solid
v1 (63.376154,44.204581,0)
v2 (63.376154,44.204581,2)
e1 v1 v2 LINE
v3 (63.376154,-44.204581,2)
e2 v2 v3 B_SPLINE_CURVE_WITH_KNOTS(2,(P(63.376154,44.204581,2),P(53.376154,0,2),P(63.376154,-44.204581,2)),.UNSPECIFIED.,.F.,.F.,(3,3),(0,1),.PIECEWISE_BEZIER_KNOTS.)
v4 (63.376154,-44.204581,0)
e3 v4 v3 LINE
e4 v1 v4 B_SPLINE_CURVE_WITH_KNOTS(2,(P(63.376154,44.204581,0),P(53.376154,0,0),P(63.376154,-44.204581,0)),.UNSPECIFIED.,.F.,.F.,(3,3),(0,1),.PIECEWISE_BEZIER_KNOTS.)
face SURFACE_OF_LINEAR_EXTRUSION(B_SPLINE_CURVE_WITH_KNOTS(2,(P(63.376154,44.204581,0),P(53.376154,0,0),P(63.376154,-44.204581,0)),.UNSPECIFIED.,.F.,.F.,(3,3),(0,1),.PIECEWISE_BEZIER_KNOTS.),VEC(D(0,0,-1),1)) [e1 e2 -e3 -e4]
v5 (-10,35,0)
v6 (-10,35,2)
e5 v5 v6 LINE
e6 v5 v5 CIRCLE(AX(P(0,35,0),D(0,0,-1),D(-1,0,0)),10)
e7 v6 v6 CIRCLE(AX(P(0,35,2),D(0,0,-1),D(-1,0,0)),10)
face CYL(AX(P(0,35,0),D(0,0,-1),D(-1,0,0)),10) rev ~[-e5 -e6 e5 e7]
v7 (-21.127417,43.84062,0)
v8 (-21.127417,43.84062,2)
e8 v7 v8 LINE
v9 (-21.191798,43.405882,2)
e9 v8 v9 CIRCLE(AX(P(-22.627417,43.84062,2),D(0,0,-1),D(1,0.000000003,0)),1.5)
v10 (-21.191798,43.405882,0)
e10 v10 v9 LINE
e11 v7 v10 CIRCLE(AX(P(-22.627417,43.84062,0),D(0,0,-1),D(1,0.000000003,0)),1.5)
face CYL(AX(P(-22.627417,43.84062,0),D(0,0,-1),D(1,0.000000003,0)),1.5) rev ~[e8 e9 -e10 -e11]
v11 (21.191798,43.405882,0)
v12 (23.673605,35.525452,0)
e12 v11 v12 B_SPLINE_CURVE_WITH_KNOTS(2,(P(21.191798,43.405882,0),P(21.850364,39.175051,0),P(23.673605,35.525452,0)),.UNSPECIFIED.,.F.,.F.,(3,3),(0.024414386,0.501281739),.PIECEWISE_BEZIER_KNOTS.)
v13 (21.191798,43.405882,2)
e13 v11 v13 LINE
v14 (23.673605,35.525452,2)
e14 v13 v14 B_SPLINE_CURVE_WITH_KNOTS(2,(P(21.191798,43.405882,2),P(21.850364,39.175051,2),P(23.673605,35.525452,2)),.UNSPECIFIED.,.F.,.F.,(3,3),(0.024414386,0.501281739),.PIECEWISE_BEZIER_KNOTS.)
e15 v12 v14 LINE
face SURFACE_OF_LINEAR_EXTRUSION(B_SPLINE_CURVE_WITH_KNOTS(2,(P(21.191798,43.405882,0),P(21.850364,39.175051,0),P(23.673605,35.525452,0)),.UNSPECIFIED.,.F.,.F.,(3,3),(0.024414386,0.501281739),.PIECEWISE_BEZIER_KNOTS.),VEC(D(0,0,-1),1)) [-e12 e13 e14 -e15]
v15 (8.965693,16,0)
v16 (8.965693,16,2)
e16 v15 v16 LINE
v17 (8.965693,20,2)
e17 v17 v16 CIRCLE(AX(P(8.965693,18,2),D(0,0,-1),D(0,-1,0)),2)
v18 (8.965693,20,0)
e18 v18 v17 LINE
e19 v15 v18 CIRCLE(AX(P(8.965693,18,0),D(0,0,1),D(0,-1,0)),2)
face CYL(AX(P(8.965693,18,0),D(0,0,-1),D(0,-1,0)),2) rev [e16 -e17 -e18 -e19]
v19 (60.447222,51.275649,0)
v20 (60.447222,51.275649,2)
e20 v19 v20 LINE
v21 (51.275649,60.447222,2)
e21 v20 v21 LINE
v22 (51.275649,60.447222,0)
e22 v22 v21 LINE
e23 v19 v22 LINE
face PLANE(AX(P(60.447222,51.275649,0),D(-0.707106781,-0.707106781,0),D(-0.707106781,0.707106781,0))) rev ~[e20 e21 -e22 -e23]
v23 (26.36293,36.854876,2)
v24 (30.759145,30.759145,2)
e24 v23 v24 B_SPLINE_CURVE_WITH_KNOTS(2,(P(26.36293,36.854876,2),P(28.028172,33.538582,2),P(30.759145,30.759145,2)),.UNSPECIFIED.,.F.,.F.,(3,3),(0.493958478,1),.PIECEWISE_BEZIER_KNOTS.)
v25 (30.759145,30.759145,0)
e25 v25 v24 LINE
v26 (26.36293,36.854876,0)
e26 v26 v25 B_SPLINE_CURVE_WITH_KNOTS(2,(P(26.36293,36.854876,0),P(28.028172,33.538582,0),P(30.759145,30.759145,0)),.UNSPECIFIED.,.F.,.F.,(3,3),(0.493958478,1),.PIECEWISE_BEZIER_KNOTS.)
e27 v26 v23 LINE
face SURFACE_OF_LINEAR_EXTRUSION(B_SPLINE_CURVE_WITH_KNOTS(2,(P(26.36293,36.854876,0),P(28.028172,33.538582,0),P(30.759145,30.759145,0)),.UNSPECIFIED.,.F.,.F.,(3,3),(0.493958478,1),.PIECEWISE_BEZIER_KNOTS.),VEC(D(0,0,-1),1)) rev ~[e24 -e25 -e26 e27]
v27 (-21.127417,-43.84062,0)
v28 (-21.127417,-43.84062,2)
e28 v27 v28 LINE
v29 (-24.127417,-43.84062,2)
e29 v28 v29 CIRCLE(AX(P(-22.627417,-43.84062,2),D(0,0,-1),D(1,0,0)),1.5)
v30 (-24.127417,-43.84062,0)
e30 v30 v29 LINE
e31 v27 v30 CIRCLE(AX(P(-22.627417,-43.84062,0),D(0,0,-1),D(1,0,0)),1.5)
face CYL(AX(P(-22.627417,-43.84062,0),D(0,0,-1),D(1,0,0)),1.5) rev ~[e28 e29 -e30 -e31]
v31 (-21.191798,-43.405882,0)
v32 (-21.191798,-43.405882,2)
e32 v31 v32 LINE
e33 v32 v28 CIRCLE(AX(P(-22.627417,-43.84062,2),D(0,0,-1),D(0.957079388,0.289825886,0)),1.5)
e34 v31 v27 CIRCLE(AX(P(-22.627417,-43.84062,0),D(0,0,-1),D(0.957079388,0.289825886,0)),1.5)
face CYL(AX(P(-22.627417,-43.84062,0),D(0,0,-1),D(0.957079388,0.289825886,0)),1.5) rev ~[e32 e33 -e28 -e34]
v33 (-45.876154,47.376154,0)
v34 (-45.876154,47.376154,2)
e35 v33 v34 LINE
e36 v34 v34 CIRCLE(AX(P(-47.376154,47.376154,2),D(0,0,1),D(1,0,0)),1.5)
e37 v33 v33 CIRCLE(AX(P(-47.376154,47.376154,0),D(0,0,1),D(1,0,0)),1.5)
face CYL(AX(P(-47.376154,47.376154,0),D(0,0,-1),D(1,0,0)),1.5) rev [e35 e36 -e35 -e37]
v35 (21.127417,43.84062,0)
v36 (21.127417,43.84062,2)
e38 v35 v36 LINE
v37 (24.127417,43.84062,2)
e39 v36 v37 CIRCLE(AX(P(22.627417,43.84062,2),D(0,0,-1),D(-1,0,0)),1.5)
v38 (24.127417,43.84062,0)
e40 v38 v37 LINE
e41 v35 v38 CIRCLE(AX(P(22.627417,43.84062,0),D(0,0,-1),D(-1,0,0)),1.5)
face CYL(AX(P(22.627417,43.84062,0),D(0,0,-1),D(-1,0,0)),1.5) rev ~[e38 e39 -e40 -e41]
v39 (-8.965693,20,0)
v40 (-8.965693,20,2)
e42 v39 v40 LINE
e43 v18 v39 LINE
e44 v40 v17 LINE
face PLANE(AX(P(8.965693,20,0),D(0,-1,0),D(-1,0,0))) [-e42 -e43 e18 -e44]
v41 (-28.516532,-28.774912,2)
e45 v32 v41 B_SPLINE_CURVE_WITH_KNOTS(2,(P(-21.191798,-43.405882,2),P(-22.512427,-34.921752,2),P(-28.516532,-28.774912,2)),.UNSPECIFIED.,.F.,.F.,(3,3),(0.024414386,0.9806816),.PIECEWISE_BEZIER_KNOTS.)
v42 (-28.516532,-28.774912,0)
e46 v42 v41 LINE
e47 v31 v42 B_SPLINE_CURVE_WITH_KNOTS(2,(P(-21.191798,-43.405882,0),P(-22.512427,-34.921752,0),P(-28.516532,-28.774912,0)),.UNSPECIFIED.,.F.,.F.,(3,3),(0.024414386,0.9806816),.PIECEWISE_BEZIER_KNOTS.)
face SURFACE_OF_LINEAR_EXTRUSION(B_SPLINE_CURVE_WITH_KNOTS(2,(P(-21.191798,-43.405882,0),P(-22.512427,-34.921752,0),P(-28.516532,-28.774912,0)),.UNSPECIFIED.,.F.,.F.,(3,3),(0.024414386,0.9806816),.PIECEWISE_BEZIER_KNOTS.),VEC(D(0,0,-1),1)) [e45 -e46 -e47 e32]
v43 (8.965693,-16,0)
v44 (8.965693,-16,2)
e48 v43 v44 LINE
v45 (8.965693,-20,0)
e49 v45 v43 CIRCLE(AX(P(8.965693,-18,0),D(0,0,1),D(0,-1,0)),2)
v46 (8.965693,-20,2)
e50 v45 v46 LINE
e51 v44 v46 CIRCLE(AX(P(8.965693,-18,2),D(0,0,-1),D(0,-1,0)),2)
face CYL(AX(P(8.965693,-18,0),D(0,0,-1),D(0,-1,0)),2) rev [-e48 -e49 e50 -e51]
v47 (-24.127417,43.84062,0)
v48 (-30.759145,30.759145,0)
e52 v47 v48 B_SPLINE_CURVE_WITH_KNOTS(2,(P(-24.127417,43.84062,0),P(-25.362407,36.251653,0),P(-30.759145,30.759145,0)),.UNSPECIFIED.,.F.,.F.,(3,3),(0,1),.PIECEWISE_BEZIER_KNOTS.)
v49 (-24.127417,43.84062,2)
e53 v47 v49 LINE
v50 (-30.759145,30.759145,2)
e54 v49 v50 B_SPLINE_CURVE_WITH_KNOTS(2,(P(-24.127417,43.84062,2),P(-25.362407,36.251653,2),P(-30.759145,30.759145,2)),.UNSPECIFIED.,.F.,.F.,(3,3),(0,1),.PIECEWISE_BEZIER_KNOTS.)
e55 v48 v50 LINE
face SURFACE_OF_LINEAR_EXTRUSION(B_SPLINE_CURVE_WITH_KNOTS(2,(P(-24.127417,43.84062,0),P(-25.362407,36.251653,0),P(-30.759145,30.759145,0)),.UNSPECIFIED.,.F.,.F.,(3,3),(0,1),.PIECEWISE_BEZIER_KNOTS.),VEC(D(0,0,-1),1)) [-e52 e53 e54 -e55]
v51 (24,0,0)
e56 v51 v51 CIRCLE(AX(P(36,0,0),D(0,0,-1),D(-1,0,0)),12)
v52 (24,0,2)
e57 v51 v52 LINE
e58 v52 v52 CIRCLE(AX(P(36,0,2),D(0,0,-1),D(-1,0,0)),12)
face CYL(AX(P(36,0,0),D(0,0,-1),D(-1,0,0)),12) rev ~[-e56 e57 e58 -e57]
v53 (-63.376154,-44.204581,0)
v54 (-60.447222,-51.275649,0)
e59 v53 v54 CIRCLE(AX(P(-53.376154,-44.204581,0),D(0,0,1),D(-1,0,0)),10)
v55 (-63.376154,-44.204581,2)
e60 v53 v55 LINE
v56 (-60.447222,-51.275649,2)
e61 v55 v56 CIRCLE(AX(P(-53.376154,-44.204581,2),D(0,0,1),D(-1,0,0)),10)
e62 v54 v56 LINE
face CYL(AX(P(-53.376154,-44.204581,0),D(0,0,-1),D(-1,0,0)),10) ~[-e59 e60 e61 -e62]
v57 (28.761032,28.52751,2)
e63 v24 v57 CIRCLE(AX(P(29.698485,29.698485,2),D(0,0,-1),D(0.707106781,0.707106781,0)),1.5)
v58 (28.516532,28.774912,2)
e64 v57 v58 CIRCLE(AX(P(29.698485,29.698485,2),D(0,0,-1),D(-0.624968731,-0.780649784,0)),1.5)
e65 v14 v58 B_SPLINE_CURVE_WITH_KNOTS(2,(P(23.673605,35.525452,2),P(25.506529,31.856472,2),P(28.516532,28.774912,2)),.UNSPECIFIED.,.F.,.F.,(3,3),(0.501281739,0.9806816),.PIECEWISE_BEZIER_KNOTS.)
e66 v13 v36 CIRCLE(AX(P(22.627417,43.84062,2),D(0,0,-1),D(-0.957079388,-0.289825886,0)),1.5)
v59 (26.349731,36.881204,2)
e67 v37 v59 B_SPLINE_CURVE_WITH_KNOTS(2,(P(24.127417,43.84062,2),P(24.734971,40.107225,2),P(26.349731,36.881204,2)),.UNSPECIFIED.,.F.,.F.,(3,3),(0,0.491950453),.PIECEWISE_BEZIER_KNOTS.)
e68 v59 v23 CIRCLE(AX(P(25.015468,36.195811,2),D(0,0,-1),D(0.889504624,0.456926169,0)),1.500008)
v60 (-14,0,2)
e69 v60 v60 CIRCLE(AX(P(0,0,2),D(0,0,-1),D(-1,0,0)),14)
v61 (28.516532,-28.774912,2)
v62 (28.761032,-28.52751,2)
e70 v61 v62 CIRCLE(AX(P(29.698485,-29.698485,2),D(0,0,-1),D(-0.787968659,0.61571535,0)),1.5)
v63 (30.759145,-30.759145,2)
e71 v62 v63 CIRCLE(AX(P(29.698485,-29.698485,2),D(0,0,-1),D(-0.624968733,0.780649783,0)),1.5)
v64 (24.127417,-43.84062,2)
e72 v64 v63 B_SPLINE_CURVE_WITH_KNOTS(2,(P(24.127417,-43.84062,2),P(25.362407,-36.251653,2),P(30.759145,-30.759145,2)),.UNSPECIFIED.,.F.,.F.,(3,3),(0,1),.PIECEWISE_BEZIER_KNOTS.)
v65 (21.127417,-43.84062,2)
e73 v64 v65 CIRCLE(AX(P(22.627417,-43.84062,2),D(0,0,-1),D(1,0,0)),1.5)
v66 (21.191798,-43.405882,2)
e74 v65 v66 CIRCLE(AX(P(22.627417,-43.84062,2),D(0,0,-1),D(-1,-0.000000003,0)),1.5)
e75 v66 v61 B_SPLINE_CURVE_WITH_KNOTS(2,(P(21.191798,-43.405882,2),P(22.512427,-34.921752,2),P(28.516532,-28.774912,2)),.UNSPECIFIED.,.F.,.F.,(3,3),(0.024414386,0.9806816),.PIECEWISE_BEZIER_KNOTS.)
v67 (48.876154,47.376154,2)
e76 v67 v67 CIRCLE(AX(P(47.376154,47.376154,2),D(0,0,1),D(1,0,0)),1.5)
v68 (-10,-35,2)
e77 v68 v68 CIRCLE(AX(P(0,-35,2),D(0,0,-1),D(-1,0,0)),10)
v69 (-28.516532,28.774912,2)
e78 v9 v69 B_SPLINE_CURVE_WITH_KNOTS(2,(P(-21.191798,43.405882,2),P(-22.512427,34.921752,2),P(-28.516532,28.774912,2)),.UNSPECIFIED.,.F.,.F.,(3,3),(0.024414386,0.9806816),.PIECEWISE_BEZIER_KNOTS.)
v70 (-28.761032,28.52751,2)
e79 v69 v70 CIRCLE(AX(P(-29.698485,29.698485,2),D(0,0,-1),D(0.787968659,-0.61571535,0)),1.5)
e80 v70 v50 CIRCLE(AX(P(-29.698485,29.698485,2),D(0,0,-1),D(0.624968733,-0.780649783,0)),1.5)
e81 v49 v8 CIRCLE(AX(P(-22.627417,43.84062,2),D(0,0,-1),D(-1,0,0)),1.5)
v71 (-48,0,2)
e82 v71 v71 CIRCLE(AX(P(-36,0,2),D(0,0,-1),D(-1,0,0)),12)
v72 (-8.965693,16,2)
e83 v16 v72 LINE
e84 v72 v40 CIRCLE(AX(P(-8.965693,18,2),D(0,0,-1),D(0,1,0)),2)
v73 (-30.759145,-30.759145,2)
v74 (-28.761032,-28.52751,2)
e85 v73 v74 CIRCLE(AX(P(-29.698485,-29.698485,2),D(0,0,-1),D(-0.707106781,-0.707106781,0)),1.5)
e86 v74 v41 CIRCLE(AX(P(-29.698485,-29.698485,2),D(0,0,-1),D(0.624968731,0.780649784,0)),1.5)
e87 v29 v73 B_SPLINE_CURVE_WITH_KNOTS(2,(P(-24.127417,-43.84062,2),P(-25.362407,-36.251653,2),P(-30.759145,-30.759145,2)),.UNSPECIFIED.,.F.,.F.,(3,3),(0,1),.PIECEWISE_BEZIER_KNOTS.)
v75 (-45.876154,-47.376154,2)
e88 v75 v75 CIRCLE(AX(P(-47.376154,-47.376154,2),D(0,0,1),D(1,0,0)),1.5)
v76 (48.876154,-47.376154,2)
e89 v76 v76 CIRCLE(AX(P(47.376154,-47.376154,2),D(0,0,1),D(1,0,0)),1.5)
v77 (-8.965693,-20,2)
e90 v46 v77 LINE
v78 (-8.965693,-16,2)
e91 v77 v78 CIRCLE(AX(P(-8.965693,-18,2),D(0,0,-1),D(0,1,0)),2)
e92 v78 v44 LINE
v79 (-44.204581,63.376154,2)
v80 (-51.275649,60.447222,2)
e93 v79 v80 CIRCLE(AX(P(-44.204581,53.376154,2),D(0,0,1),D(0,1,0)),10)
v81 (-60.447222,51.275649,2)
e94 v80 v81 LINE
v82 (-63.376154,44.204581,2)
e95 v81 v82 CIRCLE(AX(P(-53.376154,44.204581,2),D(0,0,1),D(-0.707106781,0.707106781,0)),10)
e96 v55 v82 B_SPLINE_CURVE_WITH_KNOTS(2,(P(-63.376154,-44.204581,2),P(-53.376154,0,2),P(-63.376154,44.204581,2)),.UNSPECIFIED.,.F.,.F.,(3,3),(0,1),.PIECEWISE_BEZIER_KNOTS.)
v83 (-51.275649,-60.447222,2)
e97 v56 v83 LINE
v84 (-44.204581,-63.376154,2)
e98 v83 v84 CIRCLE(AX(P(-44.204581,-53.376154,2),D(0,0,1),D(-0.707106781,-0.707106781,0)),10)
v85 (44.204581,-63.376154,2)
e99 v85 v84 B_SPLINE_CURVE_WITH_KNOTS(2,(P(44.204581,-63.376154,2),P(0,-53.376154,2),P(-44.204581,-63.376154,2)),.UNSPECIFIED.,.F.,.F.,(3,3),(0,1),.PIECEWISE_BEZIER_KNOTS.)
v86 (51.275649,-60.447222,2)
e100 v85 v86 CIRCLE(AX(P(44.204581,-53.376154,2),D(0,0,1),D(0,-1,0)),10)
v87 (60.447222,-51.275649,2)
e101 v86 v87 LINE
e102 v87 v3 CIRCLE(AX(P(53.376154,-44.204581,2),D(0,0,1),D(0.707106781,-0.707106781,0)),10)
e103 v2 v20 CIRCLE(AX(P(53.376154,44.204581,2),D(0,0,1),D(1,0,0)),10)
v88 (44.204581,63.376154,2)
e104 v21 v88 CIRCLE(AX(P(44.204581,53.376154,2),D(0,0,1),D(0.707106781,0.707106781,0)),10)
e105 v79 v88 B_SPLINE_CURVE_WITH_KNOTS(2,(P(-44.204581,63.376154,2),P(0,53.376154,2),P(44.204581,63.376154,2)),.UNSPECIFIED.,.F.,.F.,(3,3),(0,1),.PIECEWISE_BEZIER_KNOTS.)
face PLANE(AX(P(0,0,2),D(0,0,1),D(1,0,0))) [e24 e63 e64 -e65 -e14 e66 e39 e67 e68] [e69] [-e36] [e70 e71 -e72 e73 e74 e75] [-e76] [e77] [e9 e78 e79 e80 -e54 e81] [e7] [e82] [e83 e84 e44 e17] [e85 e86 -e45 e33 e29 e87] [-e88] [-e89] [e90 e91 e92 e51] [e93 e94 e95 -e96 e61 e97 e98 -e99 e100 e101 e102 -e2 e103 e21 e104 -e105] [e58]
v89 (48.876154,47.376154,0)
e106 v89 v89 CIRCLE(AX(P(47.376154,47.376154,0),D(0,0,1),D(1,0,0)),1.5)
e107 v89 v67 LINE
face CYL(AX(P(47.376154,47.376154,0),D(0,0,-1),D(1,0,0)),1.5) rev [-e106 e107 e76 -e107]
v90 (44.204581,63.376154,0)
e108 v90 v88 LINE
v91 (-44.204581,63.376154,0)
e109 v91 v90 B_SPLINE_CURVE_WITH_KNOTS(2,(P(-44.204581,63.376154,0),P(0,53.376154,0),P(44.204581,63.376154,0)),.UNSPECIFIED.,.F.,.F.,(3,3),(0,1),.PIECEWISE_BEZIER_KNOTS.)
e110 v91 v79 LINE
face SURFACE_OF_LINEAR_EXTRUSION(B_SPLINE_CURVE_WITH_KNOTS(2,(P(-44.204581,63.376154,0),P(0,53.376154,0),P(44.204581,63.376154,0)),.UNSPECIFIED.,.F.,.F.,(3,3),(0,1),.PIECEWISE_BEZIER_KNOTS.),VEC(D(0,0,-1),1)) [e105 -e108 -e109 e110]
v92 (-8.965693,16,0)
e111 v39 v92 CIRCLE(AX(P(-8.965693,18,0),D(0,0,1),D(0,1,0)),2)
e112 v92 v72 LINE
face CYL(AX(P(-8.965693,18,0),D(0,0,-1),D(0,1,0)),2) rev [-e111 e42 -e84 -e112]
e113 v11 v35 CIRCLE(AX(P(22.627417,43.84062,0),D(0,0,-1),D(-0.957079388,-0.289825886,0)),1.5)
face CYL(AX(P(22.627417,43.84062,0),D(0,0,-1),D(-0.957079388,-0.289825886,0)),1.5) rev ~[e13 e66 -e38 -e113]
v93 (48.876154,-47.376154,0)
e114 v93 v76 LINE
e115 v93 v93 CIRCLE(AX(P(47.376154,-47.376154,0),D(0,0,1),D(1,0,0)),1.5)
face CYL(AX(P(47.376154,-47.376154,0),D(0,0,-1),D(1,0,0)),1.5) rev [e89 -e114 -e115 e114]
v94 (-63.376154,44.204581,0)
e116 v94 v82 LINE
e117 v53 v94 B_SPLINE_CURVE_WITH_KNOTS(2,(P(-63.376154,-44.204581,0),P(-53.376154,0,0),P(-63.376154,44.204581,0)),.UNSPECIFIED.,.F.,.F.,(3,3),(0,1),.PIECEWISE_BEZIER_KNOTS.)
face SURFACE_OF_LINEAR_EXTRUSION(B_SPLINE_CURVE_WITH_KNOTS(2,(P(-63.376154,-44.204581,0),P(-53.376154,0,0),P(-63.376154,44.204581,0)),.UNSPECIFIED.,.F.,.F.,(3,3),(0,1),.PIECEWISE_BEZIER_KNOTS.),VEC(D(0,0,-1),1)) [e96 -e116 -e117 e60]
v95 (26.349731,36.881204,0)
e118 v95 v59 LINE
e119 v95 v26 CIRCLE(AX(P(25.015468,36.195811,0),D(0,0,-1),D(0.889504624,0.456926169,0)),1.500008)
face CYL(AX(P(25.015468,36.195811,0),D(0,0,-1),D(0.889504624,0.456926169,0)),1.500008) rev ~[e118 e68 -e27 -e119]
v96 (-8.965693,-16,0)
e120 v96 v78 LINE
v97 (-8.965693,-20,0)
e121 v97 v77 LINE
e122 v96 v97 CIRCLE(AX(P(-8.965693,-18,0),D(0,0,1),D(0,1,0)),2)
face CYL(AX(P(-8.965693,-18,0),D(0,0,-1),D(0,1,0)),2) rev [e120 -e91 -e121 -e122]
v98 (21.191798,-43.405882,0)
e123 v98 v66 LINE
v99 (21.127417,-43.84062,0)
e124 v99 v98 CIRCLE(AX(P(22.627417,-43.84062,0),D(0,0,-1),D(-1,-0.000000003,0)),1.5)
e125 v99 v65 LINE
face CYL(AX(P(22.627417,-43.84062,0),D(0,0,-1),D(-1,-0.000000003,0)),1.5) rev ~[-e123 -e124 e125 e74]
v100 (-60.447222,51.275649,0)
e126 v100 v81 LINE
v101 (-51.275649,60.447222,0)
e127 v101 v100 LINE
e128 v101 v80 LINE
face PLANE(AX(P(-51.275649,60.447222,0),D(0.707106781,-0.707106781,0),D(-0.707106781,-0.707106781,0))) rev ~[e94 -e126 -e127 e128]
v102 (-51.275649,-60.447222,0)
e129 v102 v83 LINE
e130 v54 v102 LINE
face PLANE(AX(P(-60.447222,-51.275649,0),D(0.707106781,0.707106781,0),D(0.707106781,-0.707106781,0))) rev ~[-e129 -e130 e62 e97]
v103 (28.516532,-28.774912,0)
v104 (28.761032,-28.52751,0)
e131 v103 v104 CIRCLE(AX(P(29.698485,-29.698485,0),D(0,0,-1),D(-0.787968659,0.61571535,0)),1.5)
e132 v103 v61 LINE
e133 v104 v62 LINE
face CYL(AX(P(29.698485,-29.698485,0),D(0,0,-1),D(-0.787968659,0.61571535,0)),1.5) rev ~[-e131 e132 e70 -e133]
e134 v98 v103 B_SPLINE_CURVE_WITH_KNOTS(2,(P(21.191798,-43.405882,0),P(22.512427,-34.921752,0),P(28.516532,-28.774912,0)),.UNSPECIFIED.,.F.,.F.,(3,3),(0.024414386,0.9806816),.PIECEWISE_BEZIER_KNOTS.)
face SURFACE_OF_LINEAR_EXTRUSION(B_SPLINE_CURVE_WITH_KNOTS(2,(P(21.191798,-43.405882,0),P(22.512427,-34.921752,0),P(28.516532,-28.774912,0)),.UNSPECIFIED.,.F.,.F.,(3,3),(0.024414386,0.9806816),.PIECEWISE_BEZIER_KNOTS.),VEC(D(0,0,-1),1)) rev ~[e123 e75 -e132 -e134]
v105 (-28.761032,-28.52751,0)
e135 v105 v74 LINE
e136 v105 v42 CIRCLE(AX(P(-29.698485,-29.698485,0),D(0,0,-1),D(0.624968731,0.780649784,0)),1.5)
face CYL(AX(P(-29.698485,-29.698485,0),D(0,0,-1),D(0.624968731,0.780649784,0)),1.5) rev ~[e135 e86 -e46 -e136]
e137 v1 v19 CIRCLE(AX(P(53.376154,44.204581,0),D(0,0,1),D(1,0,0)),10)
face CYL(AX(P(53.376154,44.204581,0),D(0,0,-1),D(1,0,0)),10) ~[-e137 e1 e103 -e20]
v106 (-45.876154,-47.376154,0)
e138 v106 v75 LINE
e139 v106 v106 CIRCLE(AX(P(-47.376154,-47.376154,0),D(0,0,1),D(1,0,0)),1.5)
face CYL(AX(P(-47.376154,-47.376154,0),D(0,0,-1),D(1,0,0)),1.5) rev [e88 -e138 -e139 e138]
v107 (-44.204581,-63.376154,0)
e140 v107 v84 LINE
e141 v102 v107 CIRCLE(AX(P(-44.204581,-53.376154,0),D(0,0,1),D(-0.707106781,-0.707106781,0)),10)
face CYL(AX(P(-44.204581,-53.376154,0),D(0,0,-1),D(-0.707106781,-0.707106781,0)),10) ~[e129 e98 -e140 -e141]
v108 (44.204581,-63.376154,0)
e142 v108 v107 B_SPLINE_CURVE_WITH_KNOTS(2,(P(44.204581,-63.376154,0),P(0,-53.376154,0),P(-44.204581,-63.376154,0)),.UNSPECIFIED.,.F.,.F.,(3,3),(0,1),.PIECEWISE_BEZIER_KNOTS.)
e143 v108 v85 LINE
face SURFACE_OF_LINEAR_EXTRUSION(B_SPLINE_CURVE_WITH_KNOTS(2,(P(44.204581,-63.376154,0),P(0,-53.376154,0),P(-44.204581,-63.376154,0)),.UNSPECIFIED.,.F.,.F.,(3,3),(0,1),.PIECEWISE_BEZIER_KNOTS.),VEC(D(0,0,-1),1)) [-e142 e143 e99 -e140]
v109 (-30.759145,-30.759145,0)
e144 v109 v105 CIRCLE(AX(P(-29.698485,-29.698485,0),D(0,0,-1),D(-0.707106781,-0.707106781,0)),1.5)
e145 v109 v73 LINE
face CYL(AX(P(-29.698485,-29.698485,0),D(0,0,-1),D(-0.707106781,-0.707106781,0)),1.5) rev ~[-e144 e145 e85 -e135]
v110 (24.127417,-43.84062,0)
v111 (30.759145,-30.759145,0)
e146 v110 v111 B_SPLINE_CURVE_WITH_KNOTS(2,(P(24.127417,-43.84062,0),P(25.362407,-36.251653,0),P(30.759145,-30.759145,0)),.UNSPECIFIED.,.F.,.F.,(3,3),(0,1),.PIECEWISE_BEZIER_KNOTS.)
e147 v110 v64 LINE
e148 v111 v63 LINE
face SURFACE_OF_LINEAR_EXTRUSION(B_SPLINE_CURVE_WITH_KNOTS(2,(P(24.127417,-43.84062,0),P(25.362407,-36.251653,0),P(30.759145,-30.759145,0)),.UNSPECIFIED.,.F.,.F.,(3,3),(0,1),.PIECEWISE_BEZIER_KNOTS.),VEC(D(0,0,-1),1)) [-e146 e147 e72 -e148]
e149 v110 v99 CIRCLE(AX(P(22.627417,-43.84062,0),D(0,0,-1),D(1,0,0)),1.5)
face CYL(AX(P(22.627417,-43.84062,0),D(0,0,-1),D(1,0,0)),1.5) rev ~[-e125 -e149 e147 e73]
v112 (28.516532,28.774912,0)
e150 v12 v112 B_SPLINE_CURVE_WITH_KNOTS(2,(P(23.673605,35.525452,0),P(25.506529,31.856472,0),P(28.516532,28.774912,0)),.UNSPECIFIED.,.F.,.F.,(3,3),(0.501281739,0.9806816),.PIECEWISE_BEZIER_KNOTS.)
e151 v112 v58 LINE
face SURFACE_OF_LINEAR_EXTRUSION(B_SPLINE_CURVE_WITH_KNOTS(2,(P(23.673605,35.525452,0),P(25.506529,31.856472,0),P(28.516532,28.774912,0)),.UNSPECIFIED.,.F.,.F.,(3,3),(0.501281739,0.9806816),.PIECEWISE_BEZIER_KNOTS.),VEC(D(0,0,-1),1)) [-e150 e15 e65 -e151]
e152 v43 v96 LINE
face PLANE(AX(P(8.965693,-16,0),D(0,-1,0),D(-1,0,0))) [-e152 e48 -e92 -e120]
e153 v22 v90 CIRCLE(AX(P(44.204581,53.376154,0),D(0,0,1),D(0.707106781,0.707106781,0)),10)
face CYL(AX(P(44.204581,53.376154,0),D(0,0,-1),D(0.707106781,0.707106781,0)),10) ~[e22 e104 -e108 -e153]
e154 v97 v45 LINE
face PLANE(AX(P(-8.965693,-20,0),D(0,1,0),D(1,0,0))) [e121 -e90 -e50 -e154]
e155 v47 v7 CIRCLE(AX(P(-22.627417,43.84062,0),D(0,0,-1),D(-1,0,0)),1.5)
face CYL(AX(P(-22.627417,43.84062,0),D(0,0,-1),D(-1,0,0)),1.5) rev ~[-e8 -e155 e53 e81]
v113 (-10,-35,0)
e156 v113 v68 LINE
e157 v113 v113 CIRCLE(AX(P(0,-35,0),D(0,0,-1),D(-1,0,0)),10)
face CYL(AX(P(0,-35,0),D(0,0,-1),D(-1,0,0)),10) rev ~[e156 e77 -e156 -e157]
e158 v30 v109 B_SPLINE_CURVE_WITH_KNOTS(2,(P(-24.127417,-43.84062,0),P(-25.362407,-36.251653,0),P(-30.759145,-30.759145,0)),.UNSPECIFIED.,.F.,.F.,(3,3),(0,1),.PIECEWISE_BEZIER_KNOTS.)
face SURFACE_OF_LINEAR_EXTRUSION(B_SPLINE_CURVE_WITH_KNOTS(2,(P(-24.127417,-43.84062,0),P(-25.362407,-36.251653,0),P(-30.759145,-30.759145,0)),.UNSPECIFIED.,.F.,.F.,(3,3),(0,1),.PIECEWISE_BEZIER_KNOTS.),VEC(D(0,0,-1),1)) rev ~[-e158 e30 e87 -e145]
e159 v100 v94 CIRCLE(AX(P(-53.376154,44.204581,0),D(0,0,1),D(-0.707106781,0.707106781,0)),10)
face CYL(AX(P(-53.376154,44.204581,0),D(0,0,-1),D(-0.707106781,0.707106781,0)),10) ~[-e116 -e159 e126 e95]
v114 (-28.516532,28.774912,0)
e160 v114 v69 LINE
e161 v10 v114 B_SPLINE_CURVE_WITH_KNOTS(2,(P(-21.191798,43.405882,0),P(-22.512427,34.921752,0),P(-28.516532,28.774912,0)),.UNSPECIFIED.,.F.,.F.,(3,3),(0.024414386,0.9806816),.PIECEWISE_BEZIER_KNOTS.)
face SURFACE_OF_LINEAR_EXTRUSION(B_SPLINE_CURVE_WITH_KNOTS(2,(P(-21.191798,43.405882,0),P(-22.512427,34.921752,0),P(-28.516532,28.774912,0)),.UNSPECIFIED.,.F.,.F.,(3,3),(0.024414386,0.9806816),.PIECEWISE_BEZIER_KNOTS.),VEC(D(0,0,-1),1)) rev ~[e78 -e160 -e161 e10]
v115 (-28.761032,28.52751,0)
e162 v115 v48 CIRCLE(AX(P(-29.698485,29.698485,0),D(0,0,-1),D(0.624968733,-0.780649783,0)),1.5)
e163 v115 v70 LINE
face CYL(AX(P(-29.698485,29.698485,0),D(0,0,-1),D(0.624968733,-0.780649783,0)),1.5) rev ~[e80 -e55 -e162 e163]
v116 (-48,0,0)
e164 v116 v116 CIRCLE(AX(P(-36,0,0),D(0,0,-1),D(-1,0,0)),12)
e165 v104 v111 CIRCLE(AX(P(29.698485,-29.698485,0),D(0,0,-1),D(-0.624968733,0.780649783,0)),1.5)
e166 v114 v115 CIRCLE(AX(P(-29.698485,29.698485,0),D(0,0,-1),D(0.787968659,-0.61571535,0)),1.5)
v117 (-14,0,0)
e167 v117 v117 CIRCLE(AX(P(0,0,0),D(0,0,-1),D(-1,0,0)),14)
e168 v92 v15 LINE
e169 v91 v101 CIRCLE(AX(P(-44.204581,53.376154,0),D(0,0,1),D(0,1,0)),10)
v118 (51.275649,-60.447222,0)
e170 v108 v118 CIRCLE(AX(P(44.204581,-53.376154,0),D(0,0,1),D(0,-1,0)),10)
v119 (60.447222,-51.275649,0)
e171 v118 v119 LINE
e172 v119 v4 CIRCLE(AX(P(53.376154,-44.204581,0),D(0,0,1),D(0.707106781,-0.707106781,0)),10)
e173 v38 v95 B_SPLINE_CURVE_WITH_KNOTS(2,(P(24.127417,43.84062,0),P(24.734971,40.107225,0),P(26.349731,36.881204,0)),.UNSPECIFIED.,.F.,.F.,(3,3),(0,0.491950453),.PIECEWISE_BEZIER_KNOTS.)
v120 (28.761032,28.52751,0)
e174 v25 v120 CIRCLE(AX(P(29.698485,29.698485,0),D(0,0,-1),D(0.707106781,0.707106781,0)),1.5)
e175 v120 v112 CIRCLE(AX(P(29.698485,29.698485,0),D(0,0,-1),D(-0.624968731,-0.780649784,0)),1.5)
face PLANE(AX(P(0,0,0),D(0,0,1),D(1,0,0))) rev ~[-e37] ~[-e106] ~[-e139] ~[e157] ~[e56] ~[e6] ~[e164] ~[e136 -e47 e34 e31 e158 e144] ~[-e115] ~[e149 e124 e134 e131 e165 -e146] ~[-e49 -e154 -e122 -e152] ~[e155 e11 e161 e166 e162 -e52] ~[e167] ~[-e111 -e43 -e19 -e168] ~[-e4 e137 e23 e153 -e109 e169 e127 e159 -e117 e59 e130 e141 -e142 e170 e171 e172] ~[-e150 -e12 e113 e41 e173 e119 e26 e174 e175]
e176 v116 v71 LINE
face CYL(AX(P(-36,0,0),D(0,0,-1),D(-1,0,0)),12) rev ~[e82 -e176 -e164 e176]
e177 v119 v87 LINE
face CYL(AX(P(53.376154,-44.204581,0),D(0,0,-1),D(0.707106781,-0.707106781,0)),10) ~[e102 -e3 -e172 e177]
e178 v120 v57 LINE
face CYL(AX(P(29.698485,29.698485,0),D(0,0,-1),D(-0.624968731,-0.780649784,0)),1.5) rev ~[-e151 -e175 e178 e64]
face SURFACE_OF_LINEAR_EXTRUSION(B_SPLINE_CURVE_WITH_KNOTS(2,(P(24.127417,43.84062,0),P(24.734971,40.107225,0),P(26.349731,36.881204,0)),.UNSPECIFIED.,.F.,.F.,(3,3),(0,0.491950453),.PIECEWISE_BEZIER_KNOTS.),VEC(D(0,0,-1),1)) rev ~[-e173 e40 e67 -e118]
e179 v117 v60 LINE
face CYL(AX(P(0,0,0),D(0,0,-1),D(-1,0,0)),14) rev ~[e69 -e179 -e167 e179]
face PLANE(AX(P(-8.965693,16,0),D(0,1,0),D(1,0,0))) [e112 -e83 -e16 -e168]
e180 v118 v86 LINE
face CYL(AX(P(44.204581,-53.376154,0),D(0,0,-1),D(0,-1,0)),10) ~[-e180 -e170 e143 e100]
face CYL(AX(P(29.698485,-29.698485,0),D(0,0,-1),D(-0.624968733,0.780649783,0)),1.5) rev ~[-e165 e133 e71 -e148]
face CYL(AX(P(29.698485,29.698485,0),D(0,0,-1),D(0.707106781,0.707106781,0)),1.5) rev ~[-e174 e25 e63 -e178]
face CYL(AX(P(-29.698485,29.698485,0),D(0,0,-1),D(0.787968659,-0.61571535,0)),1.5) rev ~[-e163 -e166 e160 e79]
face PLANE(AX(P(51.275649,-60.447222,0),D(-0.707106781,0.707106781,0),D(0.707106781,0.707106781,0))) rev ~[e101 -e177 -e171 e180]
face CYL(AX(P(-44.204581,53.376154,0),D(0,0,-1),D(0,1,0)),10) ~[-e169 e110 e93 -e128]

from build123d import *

# Parameters (mm, degrees)
SKETCH1_R           = 1.5
BOSS_EXTRUDE1_DEPTH = 2
SKETCH4_R           = 14
SKETCH4_R_2         = 12
SKETCH4_R_3         = 10
CUT_EXTRUDE1_DEPTH  = 10


with BuildPart() as part:
    # Sketch1 → Boss-Extrude1 (new body)
    with BuildSketch(Plane.XY):
        with BuildLine():
            Line((60.447222151, 51.275649276), (51.275649276, 60.447222151))
            ThreePointArc((51.275649276, 60.447222151), (48.031415788, 62.614949665), (44.204581464, 63.376154339))
            add(Edge.make_bspline(
                [(-44.204581464, 63.376154339), (0, 53.376154339), (44.204581464, 63.376154339)],
                knots=[0, 0, 0, 1, 1, 1], degree=2))
            ThreePointArc((-44.204581464, 63.376154339), (-48.031415788, 62.614949665), (-51.275649276, 60.447222151))
            Line((-51.275649276, 60.447222151), (-60.447222151, 51.275649276))
            ThreePointArc((-60.447222151, 51.275649276), (-62.614949665, 48.031415788), (-63.376154339, 44.204581464))
            add(Edge.make_bspline(
                [(-63.376154339, -44.204581464), (-53.376154339, 0), (-63.376154339, 44.204581464)],
                knots=[0, 0, 0, 1, 1, 1], degree=2))
            ThreePointArc((-63.376154339, -44.204581464), (-62.614949665, -48.031415788), (-60.447222151, -51.275649276))
            Line((-60.447222151, -51.275649276), (-51.275649276, -60.447222151))
            ThreePointArc((-51.275649276, -60.447222151), (-48.031415788, -62.614949665), (-44.204581464, -63.376154339))
            add(Edge.make_bspline(
                [(44.204581464, -63.376154339), (0, -53.376154339), (-44.204581464, -63.376154339)],
                knots=[0, 0, 0, 1, 1, 1], degree=2))
            ThreePointArc((44.204581464, -63.376154339), (48.031415788, -62.614949665), (51.275649276, -60.447222151))
            Line((51.275649276, -60.447222151), (60.447222151, -51.275649276))
            ThreePointArc((60.447222151, -51.275649276), (62.614949665, -48.031415788), (63.376154339, -44.204581464))
            add(Edge.make_bspline(
                [(63.376154339, 44.204581464), (53.376154339, 0), (63.376154339, -44.204581464)],
                knots=[0, 0, 0, 1, 1, 1], degree=2))
            ThreePointArc((63.376154339, 44.204581464), (62.614949665, 48.031415788), (60.447222151, 51.275649276))
        make_face()
        with Locations((-47.376154339, -47.37615434)):
            Circle(SKETCH1_R, mode=Mode.SUBTRACT)
        with BuildLine():
            ThreePointArc((-28.761031711, -28.527510136), (-28.631586297, -28.644099888), (-28.51653182, -28.774911786))
            add(Edge.make_bspline(
                [(-21.191797917, -43.405881611), (-22.512426592, -34.921752495), (-28.516531822, -28.774911788)],
                knots=[0.024414386, 0.024414386, 0.024414386, 0.9806816, 0.9806816, 0.9806816], degree=2))
            ThreePointArc((-21.191797914, -43.40588161), (-21.143599518, -43.62088039), (-21.127416998, -43.840620434))
            ThreePointArc((-21.127416998, -43.840620434), (-22.627416998, -45.340620434), (-24.127416998, -43.840620434))
            add(Edge.make_bspline(
                [(-24.127416998, -43.840620434), (-25.362407372, -36.251653189), (-30.759144982, -30.759144982)],
                knots=[0, 0, 0, 1, 1, 1], degree=2))
            ThreePointArc((-30.759144982, -30.759144982), (-30.816001484, -28.697906735), (-28.761031711, -28.527510136))
        make_face(mode=Mode.SUBTRACT)
        with BuildLine():
            add(Edge.make_bspline(
                [(24.127416998, -43.840620434), (25.362407372, -36.251653189), (30.759144982, -30.759144982)],
                knots=[0, 0, 0, 1, 1, 1], degree=2))
            ThreePointArc((24.127416998, -43.840620434), (22.627416998, -45.340620434), (21.127416998, -43.840620434))
            ThreePointArc((21.127416998, -43.840620434), (21.143599518, -43.62088039), (21.191797914, -43.40588161))
            add(Edge.make_bspline(
                [(21.191797917, -43.405881611), (22.512426592, -34.921752495), (28.516531822, -28.774911788)],
                knots=[0.024414386, 0.024414386, 0.024414386, 0.9806816, 0.9806816, 0.9806816], degree=2))
            ThreePointArc((28.51653182, -28.774911786), (28.631586297, -28.644099888), (28.761031711, -28.527510136))
            ThreePointArc((28.761031711, -28.527510136), (30.816001484, -28.697906735), (30.759144982, -30.759144982))
        make_face(mode=Mode.SUBTRACT)
        with Locations((47.376154339, -47.376154339)):
            Circle(SKETCH1_R, mode=Mode.SUBTRACT)
        with Locations((-47.376154339, 47.376154339)):
            Circle(SKETCH1_R, mode=Mode.SUBTRACT)
        with BuildLine():
            add(Edge.make_bspline(
                [(-24.127416998, 43.840620434), (-25.362407372, 36.251653189), (-30.759144982, 30.759144982)],
                knots=[0, 0, 0, 1, 1, 1], degree=2))
            ThreePointArc((-24.127416998, 43.840620434), (-22.627416998, 45.340620434), (-21.127416998, 43.840620434))
            ThreePointArc((-21.127416998, 43.840620434), (-21.143599518, 43.62088039), (-21.191797914, 43.40588161))
            add(Edge.make_bspline(
                [(-21.191797917, 43.405881611), (-22.512426592, 34.921752495), (-28.516531822, 28.774911788)],
                knots=[0.024414386, 0.024414386, 0.024414386, 0.9806816, 0.9806816, 0.9806816], degree=2))
            ThreePointArc((-28.51653182, 28.774911786), (-28.631586297, 28.644099888), (-28.761031711, 28.527510136))
            ThreePointArc((-28.761031711, 28.527510136), (-30.816001484, 28.697906735), (-30.759144982, 30.759144982))
        make_face(mode=Mode.SUBTRACT)
        with BuildLine():
            ThreePointArc((28.761031711, 28.527510136), (28.631586297, 28.644099888), (28.51653182, 28.774911786))
            add(Edge.make_bspline(
                [(23.673604803, 35.525452482), (25.506528794, 31.856471559), (28.516531822, 28.774911788)],
                knots=[0.501281739, 0.501281739, 0.501281739, 0.9806816, 0.9806816, 0.9806816], degree=2))
            add(Edge.make_bspline(
                [(21.191797917, 43.405881611), (21.850363527, 39.175051421), (23.673604803, 35.525452482)],
                knots=[0.024414386, 0.024414386, 0.024414386, 0.501281739, 0.501281739, 0.501281739], degree=2))
            ThreePointArc((21.191797914, 43.40588161), (21.143599518, 43.62088039), (21.127416998, 43.840620434))
            ThreePointArc((21.127416998, 43.840620434), (22.627416998, 45.340620434), (24.127416998, 43.840620434))
            add(Edge.make_bspline(
                [(24.127416998, 43.840620434), (24.734971072, 40.107224563), (26.349731434, 36.881203745)],
                knots=[0, 0, 0, 0.491950453, 0.491950453, 0.491950453], degree=2))
            ThreePointArc((26.349731434, 36.881203745), (26.356395509, 36.86807251), (26.362930356, 36.854876488))
            add(Edge.make_bspline(
                [(26.362930356, 36.854876488), (28.028171669, 33.538582193), (30.759144982, 30.759144982)],
                knots=[0.493958478, 0.493958478, 0.493958478, 1, 1, 1], degree=2))
            ThreePointArc((30.759144982, 30.759144982), (30.816001484, 28.697906735), (28.761031711, 28.527510136))
        make_face(mode=Mode.SUBTRACT)
        with Locations((47.376154339, 47.376154339)):
            Circle(SKETCH1_R, mode=Mode.SUBTRACT)
    extrude(amount=BOSS_EXTRUDE1_DEPTH)

    # Sketch4 → Cut-Extrude1 (cut)
    with BuildSketch(Plane(origin=(0, 0, 0), x_dir=(-1, 0, 0), z_dir=(0, 0, -1))):
        Circle(SKETCH4_R)
        with Locations((-36, 0)):
            Circle(SKETCH4_R_2)
        with Locations((36, 0)):
            Circle(SKETCH4_R_2)
        with Locations((0, 35)):
            Circle(SKETCH4_R_3)
        with Locations((0, -35)):
            Circle(SKETCH4_R_3)
        with BuildLine():
            Line((-8.965692962, 20), (8.965692962, 20))
            ThreePointArc((8.965692962, 20), (10.965692962, 18), (8.965692962, 16))
            Line((8.965692962, 16), (-8.965692962, 16))
            ThreePointArc((-8.965692962, 16), (-10.965692962, 18), (-8.965692962, 20))
        make_face()
        with BuildLine():
            Line((8.965692962, -20), (-8.965692962, -20))
            ThreePointArc((-8.965692962, -20), (-10.965692962, -18), (-8.965692962, -16))
            Line((-8.965692962, -16), (8.965692962, -16))
            ThreePointArc((8.965692962, -16), (10.965692962, -18), (8.965692962, -20))
        make_face()
    extrude(amount=-CUT_EXTRUDE1_DEPTH, mode=Mode.SUBTRACT)


solid = part.part
